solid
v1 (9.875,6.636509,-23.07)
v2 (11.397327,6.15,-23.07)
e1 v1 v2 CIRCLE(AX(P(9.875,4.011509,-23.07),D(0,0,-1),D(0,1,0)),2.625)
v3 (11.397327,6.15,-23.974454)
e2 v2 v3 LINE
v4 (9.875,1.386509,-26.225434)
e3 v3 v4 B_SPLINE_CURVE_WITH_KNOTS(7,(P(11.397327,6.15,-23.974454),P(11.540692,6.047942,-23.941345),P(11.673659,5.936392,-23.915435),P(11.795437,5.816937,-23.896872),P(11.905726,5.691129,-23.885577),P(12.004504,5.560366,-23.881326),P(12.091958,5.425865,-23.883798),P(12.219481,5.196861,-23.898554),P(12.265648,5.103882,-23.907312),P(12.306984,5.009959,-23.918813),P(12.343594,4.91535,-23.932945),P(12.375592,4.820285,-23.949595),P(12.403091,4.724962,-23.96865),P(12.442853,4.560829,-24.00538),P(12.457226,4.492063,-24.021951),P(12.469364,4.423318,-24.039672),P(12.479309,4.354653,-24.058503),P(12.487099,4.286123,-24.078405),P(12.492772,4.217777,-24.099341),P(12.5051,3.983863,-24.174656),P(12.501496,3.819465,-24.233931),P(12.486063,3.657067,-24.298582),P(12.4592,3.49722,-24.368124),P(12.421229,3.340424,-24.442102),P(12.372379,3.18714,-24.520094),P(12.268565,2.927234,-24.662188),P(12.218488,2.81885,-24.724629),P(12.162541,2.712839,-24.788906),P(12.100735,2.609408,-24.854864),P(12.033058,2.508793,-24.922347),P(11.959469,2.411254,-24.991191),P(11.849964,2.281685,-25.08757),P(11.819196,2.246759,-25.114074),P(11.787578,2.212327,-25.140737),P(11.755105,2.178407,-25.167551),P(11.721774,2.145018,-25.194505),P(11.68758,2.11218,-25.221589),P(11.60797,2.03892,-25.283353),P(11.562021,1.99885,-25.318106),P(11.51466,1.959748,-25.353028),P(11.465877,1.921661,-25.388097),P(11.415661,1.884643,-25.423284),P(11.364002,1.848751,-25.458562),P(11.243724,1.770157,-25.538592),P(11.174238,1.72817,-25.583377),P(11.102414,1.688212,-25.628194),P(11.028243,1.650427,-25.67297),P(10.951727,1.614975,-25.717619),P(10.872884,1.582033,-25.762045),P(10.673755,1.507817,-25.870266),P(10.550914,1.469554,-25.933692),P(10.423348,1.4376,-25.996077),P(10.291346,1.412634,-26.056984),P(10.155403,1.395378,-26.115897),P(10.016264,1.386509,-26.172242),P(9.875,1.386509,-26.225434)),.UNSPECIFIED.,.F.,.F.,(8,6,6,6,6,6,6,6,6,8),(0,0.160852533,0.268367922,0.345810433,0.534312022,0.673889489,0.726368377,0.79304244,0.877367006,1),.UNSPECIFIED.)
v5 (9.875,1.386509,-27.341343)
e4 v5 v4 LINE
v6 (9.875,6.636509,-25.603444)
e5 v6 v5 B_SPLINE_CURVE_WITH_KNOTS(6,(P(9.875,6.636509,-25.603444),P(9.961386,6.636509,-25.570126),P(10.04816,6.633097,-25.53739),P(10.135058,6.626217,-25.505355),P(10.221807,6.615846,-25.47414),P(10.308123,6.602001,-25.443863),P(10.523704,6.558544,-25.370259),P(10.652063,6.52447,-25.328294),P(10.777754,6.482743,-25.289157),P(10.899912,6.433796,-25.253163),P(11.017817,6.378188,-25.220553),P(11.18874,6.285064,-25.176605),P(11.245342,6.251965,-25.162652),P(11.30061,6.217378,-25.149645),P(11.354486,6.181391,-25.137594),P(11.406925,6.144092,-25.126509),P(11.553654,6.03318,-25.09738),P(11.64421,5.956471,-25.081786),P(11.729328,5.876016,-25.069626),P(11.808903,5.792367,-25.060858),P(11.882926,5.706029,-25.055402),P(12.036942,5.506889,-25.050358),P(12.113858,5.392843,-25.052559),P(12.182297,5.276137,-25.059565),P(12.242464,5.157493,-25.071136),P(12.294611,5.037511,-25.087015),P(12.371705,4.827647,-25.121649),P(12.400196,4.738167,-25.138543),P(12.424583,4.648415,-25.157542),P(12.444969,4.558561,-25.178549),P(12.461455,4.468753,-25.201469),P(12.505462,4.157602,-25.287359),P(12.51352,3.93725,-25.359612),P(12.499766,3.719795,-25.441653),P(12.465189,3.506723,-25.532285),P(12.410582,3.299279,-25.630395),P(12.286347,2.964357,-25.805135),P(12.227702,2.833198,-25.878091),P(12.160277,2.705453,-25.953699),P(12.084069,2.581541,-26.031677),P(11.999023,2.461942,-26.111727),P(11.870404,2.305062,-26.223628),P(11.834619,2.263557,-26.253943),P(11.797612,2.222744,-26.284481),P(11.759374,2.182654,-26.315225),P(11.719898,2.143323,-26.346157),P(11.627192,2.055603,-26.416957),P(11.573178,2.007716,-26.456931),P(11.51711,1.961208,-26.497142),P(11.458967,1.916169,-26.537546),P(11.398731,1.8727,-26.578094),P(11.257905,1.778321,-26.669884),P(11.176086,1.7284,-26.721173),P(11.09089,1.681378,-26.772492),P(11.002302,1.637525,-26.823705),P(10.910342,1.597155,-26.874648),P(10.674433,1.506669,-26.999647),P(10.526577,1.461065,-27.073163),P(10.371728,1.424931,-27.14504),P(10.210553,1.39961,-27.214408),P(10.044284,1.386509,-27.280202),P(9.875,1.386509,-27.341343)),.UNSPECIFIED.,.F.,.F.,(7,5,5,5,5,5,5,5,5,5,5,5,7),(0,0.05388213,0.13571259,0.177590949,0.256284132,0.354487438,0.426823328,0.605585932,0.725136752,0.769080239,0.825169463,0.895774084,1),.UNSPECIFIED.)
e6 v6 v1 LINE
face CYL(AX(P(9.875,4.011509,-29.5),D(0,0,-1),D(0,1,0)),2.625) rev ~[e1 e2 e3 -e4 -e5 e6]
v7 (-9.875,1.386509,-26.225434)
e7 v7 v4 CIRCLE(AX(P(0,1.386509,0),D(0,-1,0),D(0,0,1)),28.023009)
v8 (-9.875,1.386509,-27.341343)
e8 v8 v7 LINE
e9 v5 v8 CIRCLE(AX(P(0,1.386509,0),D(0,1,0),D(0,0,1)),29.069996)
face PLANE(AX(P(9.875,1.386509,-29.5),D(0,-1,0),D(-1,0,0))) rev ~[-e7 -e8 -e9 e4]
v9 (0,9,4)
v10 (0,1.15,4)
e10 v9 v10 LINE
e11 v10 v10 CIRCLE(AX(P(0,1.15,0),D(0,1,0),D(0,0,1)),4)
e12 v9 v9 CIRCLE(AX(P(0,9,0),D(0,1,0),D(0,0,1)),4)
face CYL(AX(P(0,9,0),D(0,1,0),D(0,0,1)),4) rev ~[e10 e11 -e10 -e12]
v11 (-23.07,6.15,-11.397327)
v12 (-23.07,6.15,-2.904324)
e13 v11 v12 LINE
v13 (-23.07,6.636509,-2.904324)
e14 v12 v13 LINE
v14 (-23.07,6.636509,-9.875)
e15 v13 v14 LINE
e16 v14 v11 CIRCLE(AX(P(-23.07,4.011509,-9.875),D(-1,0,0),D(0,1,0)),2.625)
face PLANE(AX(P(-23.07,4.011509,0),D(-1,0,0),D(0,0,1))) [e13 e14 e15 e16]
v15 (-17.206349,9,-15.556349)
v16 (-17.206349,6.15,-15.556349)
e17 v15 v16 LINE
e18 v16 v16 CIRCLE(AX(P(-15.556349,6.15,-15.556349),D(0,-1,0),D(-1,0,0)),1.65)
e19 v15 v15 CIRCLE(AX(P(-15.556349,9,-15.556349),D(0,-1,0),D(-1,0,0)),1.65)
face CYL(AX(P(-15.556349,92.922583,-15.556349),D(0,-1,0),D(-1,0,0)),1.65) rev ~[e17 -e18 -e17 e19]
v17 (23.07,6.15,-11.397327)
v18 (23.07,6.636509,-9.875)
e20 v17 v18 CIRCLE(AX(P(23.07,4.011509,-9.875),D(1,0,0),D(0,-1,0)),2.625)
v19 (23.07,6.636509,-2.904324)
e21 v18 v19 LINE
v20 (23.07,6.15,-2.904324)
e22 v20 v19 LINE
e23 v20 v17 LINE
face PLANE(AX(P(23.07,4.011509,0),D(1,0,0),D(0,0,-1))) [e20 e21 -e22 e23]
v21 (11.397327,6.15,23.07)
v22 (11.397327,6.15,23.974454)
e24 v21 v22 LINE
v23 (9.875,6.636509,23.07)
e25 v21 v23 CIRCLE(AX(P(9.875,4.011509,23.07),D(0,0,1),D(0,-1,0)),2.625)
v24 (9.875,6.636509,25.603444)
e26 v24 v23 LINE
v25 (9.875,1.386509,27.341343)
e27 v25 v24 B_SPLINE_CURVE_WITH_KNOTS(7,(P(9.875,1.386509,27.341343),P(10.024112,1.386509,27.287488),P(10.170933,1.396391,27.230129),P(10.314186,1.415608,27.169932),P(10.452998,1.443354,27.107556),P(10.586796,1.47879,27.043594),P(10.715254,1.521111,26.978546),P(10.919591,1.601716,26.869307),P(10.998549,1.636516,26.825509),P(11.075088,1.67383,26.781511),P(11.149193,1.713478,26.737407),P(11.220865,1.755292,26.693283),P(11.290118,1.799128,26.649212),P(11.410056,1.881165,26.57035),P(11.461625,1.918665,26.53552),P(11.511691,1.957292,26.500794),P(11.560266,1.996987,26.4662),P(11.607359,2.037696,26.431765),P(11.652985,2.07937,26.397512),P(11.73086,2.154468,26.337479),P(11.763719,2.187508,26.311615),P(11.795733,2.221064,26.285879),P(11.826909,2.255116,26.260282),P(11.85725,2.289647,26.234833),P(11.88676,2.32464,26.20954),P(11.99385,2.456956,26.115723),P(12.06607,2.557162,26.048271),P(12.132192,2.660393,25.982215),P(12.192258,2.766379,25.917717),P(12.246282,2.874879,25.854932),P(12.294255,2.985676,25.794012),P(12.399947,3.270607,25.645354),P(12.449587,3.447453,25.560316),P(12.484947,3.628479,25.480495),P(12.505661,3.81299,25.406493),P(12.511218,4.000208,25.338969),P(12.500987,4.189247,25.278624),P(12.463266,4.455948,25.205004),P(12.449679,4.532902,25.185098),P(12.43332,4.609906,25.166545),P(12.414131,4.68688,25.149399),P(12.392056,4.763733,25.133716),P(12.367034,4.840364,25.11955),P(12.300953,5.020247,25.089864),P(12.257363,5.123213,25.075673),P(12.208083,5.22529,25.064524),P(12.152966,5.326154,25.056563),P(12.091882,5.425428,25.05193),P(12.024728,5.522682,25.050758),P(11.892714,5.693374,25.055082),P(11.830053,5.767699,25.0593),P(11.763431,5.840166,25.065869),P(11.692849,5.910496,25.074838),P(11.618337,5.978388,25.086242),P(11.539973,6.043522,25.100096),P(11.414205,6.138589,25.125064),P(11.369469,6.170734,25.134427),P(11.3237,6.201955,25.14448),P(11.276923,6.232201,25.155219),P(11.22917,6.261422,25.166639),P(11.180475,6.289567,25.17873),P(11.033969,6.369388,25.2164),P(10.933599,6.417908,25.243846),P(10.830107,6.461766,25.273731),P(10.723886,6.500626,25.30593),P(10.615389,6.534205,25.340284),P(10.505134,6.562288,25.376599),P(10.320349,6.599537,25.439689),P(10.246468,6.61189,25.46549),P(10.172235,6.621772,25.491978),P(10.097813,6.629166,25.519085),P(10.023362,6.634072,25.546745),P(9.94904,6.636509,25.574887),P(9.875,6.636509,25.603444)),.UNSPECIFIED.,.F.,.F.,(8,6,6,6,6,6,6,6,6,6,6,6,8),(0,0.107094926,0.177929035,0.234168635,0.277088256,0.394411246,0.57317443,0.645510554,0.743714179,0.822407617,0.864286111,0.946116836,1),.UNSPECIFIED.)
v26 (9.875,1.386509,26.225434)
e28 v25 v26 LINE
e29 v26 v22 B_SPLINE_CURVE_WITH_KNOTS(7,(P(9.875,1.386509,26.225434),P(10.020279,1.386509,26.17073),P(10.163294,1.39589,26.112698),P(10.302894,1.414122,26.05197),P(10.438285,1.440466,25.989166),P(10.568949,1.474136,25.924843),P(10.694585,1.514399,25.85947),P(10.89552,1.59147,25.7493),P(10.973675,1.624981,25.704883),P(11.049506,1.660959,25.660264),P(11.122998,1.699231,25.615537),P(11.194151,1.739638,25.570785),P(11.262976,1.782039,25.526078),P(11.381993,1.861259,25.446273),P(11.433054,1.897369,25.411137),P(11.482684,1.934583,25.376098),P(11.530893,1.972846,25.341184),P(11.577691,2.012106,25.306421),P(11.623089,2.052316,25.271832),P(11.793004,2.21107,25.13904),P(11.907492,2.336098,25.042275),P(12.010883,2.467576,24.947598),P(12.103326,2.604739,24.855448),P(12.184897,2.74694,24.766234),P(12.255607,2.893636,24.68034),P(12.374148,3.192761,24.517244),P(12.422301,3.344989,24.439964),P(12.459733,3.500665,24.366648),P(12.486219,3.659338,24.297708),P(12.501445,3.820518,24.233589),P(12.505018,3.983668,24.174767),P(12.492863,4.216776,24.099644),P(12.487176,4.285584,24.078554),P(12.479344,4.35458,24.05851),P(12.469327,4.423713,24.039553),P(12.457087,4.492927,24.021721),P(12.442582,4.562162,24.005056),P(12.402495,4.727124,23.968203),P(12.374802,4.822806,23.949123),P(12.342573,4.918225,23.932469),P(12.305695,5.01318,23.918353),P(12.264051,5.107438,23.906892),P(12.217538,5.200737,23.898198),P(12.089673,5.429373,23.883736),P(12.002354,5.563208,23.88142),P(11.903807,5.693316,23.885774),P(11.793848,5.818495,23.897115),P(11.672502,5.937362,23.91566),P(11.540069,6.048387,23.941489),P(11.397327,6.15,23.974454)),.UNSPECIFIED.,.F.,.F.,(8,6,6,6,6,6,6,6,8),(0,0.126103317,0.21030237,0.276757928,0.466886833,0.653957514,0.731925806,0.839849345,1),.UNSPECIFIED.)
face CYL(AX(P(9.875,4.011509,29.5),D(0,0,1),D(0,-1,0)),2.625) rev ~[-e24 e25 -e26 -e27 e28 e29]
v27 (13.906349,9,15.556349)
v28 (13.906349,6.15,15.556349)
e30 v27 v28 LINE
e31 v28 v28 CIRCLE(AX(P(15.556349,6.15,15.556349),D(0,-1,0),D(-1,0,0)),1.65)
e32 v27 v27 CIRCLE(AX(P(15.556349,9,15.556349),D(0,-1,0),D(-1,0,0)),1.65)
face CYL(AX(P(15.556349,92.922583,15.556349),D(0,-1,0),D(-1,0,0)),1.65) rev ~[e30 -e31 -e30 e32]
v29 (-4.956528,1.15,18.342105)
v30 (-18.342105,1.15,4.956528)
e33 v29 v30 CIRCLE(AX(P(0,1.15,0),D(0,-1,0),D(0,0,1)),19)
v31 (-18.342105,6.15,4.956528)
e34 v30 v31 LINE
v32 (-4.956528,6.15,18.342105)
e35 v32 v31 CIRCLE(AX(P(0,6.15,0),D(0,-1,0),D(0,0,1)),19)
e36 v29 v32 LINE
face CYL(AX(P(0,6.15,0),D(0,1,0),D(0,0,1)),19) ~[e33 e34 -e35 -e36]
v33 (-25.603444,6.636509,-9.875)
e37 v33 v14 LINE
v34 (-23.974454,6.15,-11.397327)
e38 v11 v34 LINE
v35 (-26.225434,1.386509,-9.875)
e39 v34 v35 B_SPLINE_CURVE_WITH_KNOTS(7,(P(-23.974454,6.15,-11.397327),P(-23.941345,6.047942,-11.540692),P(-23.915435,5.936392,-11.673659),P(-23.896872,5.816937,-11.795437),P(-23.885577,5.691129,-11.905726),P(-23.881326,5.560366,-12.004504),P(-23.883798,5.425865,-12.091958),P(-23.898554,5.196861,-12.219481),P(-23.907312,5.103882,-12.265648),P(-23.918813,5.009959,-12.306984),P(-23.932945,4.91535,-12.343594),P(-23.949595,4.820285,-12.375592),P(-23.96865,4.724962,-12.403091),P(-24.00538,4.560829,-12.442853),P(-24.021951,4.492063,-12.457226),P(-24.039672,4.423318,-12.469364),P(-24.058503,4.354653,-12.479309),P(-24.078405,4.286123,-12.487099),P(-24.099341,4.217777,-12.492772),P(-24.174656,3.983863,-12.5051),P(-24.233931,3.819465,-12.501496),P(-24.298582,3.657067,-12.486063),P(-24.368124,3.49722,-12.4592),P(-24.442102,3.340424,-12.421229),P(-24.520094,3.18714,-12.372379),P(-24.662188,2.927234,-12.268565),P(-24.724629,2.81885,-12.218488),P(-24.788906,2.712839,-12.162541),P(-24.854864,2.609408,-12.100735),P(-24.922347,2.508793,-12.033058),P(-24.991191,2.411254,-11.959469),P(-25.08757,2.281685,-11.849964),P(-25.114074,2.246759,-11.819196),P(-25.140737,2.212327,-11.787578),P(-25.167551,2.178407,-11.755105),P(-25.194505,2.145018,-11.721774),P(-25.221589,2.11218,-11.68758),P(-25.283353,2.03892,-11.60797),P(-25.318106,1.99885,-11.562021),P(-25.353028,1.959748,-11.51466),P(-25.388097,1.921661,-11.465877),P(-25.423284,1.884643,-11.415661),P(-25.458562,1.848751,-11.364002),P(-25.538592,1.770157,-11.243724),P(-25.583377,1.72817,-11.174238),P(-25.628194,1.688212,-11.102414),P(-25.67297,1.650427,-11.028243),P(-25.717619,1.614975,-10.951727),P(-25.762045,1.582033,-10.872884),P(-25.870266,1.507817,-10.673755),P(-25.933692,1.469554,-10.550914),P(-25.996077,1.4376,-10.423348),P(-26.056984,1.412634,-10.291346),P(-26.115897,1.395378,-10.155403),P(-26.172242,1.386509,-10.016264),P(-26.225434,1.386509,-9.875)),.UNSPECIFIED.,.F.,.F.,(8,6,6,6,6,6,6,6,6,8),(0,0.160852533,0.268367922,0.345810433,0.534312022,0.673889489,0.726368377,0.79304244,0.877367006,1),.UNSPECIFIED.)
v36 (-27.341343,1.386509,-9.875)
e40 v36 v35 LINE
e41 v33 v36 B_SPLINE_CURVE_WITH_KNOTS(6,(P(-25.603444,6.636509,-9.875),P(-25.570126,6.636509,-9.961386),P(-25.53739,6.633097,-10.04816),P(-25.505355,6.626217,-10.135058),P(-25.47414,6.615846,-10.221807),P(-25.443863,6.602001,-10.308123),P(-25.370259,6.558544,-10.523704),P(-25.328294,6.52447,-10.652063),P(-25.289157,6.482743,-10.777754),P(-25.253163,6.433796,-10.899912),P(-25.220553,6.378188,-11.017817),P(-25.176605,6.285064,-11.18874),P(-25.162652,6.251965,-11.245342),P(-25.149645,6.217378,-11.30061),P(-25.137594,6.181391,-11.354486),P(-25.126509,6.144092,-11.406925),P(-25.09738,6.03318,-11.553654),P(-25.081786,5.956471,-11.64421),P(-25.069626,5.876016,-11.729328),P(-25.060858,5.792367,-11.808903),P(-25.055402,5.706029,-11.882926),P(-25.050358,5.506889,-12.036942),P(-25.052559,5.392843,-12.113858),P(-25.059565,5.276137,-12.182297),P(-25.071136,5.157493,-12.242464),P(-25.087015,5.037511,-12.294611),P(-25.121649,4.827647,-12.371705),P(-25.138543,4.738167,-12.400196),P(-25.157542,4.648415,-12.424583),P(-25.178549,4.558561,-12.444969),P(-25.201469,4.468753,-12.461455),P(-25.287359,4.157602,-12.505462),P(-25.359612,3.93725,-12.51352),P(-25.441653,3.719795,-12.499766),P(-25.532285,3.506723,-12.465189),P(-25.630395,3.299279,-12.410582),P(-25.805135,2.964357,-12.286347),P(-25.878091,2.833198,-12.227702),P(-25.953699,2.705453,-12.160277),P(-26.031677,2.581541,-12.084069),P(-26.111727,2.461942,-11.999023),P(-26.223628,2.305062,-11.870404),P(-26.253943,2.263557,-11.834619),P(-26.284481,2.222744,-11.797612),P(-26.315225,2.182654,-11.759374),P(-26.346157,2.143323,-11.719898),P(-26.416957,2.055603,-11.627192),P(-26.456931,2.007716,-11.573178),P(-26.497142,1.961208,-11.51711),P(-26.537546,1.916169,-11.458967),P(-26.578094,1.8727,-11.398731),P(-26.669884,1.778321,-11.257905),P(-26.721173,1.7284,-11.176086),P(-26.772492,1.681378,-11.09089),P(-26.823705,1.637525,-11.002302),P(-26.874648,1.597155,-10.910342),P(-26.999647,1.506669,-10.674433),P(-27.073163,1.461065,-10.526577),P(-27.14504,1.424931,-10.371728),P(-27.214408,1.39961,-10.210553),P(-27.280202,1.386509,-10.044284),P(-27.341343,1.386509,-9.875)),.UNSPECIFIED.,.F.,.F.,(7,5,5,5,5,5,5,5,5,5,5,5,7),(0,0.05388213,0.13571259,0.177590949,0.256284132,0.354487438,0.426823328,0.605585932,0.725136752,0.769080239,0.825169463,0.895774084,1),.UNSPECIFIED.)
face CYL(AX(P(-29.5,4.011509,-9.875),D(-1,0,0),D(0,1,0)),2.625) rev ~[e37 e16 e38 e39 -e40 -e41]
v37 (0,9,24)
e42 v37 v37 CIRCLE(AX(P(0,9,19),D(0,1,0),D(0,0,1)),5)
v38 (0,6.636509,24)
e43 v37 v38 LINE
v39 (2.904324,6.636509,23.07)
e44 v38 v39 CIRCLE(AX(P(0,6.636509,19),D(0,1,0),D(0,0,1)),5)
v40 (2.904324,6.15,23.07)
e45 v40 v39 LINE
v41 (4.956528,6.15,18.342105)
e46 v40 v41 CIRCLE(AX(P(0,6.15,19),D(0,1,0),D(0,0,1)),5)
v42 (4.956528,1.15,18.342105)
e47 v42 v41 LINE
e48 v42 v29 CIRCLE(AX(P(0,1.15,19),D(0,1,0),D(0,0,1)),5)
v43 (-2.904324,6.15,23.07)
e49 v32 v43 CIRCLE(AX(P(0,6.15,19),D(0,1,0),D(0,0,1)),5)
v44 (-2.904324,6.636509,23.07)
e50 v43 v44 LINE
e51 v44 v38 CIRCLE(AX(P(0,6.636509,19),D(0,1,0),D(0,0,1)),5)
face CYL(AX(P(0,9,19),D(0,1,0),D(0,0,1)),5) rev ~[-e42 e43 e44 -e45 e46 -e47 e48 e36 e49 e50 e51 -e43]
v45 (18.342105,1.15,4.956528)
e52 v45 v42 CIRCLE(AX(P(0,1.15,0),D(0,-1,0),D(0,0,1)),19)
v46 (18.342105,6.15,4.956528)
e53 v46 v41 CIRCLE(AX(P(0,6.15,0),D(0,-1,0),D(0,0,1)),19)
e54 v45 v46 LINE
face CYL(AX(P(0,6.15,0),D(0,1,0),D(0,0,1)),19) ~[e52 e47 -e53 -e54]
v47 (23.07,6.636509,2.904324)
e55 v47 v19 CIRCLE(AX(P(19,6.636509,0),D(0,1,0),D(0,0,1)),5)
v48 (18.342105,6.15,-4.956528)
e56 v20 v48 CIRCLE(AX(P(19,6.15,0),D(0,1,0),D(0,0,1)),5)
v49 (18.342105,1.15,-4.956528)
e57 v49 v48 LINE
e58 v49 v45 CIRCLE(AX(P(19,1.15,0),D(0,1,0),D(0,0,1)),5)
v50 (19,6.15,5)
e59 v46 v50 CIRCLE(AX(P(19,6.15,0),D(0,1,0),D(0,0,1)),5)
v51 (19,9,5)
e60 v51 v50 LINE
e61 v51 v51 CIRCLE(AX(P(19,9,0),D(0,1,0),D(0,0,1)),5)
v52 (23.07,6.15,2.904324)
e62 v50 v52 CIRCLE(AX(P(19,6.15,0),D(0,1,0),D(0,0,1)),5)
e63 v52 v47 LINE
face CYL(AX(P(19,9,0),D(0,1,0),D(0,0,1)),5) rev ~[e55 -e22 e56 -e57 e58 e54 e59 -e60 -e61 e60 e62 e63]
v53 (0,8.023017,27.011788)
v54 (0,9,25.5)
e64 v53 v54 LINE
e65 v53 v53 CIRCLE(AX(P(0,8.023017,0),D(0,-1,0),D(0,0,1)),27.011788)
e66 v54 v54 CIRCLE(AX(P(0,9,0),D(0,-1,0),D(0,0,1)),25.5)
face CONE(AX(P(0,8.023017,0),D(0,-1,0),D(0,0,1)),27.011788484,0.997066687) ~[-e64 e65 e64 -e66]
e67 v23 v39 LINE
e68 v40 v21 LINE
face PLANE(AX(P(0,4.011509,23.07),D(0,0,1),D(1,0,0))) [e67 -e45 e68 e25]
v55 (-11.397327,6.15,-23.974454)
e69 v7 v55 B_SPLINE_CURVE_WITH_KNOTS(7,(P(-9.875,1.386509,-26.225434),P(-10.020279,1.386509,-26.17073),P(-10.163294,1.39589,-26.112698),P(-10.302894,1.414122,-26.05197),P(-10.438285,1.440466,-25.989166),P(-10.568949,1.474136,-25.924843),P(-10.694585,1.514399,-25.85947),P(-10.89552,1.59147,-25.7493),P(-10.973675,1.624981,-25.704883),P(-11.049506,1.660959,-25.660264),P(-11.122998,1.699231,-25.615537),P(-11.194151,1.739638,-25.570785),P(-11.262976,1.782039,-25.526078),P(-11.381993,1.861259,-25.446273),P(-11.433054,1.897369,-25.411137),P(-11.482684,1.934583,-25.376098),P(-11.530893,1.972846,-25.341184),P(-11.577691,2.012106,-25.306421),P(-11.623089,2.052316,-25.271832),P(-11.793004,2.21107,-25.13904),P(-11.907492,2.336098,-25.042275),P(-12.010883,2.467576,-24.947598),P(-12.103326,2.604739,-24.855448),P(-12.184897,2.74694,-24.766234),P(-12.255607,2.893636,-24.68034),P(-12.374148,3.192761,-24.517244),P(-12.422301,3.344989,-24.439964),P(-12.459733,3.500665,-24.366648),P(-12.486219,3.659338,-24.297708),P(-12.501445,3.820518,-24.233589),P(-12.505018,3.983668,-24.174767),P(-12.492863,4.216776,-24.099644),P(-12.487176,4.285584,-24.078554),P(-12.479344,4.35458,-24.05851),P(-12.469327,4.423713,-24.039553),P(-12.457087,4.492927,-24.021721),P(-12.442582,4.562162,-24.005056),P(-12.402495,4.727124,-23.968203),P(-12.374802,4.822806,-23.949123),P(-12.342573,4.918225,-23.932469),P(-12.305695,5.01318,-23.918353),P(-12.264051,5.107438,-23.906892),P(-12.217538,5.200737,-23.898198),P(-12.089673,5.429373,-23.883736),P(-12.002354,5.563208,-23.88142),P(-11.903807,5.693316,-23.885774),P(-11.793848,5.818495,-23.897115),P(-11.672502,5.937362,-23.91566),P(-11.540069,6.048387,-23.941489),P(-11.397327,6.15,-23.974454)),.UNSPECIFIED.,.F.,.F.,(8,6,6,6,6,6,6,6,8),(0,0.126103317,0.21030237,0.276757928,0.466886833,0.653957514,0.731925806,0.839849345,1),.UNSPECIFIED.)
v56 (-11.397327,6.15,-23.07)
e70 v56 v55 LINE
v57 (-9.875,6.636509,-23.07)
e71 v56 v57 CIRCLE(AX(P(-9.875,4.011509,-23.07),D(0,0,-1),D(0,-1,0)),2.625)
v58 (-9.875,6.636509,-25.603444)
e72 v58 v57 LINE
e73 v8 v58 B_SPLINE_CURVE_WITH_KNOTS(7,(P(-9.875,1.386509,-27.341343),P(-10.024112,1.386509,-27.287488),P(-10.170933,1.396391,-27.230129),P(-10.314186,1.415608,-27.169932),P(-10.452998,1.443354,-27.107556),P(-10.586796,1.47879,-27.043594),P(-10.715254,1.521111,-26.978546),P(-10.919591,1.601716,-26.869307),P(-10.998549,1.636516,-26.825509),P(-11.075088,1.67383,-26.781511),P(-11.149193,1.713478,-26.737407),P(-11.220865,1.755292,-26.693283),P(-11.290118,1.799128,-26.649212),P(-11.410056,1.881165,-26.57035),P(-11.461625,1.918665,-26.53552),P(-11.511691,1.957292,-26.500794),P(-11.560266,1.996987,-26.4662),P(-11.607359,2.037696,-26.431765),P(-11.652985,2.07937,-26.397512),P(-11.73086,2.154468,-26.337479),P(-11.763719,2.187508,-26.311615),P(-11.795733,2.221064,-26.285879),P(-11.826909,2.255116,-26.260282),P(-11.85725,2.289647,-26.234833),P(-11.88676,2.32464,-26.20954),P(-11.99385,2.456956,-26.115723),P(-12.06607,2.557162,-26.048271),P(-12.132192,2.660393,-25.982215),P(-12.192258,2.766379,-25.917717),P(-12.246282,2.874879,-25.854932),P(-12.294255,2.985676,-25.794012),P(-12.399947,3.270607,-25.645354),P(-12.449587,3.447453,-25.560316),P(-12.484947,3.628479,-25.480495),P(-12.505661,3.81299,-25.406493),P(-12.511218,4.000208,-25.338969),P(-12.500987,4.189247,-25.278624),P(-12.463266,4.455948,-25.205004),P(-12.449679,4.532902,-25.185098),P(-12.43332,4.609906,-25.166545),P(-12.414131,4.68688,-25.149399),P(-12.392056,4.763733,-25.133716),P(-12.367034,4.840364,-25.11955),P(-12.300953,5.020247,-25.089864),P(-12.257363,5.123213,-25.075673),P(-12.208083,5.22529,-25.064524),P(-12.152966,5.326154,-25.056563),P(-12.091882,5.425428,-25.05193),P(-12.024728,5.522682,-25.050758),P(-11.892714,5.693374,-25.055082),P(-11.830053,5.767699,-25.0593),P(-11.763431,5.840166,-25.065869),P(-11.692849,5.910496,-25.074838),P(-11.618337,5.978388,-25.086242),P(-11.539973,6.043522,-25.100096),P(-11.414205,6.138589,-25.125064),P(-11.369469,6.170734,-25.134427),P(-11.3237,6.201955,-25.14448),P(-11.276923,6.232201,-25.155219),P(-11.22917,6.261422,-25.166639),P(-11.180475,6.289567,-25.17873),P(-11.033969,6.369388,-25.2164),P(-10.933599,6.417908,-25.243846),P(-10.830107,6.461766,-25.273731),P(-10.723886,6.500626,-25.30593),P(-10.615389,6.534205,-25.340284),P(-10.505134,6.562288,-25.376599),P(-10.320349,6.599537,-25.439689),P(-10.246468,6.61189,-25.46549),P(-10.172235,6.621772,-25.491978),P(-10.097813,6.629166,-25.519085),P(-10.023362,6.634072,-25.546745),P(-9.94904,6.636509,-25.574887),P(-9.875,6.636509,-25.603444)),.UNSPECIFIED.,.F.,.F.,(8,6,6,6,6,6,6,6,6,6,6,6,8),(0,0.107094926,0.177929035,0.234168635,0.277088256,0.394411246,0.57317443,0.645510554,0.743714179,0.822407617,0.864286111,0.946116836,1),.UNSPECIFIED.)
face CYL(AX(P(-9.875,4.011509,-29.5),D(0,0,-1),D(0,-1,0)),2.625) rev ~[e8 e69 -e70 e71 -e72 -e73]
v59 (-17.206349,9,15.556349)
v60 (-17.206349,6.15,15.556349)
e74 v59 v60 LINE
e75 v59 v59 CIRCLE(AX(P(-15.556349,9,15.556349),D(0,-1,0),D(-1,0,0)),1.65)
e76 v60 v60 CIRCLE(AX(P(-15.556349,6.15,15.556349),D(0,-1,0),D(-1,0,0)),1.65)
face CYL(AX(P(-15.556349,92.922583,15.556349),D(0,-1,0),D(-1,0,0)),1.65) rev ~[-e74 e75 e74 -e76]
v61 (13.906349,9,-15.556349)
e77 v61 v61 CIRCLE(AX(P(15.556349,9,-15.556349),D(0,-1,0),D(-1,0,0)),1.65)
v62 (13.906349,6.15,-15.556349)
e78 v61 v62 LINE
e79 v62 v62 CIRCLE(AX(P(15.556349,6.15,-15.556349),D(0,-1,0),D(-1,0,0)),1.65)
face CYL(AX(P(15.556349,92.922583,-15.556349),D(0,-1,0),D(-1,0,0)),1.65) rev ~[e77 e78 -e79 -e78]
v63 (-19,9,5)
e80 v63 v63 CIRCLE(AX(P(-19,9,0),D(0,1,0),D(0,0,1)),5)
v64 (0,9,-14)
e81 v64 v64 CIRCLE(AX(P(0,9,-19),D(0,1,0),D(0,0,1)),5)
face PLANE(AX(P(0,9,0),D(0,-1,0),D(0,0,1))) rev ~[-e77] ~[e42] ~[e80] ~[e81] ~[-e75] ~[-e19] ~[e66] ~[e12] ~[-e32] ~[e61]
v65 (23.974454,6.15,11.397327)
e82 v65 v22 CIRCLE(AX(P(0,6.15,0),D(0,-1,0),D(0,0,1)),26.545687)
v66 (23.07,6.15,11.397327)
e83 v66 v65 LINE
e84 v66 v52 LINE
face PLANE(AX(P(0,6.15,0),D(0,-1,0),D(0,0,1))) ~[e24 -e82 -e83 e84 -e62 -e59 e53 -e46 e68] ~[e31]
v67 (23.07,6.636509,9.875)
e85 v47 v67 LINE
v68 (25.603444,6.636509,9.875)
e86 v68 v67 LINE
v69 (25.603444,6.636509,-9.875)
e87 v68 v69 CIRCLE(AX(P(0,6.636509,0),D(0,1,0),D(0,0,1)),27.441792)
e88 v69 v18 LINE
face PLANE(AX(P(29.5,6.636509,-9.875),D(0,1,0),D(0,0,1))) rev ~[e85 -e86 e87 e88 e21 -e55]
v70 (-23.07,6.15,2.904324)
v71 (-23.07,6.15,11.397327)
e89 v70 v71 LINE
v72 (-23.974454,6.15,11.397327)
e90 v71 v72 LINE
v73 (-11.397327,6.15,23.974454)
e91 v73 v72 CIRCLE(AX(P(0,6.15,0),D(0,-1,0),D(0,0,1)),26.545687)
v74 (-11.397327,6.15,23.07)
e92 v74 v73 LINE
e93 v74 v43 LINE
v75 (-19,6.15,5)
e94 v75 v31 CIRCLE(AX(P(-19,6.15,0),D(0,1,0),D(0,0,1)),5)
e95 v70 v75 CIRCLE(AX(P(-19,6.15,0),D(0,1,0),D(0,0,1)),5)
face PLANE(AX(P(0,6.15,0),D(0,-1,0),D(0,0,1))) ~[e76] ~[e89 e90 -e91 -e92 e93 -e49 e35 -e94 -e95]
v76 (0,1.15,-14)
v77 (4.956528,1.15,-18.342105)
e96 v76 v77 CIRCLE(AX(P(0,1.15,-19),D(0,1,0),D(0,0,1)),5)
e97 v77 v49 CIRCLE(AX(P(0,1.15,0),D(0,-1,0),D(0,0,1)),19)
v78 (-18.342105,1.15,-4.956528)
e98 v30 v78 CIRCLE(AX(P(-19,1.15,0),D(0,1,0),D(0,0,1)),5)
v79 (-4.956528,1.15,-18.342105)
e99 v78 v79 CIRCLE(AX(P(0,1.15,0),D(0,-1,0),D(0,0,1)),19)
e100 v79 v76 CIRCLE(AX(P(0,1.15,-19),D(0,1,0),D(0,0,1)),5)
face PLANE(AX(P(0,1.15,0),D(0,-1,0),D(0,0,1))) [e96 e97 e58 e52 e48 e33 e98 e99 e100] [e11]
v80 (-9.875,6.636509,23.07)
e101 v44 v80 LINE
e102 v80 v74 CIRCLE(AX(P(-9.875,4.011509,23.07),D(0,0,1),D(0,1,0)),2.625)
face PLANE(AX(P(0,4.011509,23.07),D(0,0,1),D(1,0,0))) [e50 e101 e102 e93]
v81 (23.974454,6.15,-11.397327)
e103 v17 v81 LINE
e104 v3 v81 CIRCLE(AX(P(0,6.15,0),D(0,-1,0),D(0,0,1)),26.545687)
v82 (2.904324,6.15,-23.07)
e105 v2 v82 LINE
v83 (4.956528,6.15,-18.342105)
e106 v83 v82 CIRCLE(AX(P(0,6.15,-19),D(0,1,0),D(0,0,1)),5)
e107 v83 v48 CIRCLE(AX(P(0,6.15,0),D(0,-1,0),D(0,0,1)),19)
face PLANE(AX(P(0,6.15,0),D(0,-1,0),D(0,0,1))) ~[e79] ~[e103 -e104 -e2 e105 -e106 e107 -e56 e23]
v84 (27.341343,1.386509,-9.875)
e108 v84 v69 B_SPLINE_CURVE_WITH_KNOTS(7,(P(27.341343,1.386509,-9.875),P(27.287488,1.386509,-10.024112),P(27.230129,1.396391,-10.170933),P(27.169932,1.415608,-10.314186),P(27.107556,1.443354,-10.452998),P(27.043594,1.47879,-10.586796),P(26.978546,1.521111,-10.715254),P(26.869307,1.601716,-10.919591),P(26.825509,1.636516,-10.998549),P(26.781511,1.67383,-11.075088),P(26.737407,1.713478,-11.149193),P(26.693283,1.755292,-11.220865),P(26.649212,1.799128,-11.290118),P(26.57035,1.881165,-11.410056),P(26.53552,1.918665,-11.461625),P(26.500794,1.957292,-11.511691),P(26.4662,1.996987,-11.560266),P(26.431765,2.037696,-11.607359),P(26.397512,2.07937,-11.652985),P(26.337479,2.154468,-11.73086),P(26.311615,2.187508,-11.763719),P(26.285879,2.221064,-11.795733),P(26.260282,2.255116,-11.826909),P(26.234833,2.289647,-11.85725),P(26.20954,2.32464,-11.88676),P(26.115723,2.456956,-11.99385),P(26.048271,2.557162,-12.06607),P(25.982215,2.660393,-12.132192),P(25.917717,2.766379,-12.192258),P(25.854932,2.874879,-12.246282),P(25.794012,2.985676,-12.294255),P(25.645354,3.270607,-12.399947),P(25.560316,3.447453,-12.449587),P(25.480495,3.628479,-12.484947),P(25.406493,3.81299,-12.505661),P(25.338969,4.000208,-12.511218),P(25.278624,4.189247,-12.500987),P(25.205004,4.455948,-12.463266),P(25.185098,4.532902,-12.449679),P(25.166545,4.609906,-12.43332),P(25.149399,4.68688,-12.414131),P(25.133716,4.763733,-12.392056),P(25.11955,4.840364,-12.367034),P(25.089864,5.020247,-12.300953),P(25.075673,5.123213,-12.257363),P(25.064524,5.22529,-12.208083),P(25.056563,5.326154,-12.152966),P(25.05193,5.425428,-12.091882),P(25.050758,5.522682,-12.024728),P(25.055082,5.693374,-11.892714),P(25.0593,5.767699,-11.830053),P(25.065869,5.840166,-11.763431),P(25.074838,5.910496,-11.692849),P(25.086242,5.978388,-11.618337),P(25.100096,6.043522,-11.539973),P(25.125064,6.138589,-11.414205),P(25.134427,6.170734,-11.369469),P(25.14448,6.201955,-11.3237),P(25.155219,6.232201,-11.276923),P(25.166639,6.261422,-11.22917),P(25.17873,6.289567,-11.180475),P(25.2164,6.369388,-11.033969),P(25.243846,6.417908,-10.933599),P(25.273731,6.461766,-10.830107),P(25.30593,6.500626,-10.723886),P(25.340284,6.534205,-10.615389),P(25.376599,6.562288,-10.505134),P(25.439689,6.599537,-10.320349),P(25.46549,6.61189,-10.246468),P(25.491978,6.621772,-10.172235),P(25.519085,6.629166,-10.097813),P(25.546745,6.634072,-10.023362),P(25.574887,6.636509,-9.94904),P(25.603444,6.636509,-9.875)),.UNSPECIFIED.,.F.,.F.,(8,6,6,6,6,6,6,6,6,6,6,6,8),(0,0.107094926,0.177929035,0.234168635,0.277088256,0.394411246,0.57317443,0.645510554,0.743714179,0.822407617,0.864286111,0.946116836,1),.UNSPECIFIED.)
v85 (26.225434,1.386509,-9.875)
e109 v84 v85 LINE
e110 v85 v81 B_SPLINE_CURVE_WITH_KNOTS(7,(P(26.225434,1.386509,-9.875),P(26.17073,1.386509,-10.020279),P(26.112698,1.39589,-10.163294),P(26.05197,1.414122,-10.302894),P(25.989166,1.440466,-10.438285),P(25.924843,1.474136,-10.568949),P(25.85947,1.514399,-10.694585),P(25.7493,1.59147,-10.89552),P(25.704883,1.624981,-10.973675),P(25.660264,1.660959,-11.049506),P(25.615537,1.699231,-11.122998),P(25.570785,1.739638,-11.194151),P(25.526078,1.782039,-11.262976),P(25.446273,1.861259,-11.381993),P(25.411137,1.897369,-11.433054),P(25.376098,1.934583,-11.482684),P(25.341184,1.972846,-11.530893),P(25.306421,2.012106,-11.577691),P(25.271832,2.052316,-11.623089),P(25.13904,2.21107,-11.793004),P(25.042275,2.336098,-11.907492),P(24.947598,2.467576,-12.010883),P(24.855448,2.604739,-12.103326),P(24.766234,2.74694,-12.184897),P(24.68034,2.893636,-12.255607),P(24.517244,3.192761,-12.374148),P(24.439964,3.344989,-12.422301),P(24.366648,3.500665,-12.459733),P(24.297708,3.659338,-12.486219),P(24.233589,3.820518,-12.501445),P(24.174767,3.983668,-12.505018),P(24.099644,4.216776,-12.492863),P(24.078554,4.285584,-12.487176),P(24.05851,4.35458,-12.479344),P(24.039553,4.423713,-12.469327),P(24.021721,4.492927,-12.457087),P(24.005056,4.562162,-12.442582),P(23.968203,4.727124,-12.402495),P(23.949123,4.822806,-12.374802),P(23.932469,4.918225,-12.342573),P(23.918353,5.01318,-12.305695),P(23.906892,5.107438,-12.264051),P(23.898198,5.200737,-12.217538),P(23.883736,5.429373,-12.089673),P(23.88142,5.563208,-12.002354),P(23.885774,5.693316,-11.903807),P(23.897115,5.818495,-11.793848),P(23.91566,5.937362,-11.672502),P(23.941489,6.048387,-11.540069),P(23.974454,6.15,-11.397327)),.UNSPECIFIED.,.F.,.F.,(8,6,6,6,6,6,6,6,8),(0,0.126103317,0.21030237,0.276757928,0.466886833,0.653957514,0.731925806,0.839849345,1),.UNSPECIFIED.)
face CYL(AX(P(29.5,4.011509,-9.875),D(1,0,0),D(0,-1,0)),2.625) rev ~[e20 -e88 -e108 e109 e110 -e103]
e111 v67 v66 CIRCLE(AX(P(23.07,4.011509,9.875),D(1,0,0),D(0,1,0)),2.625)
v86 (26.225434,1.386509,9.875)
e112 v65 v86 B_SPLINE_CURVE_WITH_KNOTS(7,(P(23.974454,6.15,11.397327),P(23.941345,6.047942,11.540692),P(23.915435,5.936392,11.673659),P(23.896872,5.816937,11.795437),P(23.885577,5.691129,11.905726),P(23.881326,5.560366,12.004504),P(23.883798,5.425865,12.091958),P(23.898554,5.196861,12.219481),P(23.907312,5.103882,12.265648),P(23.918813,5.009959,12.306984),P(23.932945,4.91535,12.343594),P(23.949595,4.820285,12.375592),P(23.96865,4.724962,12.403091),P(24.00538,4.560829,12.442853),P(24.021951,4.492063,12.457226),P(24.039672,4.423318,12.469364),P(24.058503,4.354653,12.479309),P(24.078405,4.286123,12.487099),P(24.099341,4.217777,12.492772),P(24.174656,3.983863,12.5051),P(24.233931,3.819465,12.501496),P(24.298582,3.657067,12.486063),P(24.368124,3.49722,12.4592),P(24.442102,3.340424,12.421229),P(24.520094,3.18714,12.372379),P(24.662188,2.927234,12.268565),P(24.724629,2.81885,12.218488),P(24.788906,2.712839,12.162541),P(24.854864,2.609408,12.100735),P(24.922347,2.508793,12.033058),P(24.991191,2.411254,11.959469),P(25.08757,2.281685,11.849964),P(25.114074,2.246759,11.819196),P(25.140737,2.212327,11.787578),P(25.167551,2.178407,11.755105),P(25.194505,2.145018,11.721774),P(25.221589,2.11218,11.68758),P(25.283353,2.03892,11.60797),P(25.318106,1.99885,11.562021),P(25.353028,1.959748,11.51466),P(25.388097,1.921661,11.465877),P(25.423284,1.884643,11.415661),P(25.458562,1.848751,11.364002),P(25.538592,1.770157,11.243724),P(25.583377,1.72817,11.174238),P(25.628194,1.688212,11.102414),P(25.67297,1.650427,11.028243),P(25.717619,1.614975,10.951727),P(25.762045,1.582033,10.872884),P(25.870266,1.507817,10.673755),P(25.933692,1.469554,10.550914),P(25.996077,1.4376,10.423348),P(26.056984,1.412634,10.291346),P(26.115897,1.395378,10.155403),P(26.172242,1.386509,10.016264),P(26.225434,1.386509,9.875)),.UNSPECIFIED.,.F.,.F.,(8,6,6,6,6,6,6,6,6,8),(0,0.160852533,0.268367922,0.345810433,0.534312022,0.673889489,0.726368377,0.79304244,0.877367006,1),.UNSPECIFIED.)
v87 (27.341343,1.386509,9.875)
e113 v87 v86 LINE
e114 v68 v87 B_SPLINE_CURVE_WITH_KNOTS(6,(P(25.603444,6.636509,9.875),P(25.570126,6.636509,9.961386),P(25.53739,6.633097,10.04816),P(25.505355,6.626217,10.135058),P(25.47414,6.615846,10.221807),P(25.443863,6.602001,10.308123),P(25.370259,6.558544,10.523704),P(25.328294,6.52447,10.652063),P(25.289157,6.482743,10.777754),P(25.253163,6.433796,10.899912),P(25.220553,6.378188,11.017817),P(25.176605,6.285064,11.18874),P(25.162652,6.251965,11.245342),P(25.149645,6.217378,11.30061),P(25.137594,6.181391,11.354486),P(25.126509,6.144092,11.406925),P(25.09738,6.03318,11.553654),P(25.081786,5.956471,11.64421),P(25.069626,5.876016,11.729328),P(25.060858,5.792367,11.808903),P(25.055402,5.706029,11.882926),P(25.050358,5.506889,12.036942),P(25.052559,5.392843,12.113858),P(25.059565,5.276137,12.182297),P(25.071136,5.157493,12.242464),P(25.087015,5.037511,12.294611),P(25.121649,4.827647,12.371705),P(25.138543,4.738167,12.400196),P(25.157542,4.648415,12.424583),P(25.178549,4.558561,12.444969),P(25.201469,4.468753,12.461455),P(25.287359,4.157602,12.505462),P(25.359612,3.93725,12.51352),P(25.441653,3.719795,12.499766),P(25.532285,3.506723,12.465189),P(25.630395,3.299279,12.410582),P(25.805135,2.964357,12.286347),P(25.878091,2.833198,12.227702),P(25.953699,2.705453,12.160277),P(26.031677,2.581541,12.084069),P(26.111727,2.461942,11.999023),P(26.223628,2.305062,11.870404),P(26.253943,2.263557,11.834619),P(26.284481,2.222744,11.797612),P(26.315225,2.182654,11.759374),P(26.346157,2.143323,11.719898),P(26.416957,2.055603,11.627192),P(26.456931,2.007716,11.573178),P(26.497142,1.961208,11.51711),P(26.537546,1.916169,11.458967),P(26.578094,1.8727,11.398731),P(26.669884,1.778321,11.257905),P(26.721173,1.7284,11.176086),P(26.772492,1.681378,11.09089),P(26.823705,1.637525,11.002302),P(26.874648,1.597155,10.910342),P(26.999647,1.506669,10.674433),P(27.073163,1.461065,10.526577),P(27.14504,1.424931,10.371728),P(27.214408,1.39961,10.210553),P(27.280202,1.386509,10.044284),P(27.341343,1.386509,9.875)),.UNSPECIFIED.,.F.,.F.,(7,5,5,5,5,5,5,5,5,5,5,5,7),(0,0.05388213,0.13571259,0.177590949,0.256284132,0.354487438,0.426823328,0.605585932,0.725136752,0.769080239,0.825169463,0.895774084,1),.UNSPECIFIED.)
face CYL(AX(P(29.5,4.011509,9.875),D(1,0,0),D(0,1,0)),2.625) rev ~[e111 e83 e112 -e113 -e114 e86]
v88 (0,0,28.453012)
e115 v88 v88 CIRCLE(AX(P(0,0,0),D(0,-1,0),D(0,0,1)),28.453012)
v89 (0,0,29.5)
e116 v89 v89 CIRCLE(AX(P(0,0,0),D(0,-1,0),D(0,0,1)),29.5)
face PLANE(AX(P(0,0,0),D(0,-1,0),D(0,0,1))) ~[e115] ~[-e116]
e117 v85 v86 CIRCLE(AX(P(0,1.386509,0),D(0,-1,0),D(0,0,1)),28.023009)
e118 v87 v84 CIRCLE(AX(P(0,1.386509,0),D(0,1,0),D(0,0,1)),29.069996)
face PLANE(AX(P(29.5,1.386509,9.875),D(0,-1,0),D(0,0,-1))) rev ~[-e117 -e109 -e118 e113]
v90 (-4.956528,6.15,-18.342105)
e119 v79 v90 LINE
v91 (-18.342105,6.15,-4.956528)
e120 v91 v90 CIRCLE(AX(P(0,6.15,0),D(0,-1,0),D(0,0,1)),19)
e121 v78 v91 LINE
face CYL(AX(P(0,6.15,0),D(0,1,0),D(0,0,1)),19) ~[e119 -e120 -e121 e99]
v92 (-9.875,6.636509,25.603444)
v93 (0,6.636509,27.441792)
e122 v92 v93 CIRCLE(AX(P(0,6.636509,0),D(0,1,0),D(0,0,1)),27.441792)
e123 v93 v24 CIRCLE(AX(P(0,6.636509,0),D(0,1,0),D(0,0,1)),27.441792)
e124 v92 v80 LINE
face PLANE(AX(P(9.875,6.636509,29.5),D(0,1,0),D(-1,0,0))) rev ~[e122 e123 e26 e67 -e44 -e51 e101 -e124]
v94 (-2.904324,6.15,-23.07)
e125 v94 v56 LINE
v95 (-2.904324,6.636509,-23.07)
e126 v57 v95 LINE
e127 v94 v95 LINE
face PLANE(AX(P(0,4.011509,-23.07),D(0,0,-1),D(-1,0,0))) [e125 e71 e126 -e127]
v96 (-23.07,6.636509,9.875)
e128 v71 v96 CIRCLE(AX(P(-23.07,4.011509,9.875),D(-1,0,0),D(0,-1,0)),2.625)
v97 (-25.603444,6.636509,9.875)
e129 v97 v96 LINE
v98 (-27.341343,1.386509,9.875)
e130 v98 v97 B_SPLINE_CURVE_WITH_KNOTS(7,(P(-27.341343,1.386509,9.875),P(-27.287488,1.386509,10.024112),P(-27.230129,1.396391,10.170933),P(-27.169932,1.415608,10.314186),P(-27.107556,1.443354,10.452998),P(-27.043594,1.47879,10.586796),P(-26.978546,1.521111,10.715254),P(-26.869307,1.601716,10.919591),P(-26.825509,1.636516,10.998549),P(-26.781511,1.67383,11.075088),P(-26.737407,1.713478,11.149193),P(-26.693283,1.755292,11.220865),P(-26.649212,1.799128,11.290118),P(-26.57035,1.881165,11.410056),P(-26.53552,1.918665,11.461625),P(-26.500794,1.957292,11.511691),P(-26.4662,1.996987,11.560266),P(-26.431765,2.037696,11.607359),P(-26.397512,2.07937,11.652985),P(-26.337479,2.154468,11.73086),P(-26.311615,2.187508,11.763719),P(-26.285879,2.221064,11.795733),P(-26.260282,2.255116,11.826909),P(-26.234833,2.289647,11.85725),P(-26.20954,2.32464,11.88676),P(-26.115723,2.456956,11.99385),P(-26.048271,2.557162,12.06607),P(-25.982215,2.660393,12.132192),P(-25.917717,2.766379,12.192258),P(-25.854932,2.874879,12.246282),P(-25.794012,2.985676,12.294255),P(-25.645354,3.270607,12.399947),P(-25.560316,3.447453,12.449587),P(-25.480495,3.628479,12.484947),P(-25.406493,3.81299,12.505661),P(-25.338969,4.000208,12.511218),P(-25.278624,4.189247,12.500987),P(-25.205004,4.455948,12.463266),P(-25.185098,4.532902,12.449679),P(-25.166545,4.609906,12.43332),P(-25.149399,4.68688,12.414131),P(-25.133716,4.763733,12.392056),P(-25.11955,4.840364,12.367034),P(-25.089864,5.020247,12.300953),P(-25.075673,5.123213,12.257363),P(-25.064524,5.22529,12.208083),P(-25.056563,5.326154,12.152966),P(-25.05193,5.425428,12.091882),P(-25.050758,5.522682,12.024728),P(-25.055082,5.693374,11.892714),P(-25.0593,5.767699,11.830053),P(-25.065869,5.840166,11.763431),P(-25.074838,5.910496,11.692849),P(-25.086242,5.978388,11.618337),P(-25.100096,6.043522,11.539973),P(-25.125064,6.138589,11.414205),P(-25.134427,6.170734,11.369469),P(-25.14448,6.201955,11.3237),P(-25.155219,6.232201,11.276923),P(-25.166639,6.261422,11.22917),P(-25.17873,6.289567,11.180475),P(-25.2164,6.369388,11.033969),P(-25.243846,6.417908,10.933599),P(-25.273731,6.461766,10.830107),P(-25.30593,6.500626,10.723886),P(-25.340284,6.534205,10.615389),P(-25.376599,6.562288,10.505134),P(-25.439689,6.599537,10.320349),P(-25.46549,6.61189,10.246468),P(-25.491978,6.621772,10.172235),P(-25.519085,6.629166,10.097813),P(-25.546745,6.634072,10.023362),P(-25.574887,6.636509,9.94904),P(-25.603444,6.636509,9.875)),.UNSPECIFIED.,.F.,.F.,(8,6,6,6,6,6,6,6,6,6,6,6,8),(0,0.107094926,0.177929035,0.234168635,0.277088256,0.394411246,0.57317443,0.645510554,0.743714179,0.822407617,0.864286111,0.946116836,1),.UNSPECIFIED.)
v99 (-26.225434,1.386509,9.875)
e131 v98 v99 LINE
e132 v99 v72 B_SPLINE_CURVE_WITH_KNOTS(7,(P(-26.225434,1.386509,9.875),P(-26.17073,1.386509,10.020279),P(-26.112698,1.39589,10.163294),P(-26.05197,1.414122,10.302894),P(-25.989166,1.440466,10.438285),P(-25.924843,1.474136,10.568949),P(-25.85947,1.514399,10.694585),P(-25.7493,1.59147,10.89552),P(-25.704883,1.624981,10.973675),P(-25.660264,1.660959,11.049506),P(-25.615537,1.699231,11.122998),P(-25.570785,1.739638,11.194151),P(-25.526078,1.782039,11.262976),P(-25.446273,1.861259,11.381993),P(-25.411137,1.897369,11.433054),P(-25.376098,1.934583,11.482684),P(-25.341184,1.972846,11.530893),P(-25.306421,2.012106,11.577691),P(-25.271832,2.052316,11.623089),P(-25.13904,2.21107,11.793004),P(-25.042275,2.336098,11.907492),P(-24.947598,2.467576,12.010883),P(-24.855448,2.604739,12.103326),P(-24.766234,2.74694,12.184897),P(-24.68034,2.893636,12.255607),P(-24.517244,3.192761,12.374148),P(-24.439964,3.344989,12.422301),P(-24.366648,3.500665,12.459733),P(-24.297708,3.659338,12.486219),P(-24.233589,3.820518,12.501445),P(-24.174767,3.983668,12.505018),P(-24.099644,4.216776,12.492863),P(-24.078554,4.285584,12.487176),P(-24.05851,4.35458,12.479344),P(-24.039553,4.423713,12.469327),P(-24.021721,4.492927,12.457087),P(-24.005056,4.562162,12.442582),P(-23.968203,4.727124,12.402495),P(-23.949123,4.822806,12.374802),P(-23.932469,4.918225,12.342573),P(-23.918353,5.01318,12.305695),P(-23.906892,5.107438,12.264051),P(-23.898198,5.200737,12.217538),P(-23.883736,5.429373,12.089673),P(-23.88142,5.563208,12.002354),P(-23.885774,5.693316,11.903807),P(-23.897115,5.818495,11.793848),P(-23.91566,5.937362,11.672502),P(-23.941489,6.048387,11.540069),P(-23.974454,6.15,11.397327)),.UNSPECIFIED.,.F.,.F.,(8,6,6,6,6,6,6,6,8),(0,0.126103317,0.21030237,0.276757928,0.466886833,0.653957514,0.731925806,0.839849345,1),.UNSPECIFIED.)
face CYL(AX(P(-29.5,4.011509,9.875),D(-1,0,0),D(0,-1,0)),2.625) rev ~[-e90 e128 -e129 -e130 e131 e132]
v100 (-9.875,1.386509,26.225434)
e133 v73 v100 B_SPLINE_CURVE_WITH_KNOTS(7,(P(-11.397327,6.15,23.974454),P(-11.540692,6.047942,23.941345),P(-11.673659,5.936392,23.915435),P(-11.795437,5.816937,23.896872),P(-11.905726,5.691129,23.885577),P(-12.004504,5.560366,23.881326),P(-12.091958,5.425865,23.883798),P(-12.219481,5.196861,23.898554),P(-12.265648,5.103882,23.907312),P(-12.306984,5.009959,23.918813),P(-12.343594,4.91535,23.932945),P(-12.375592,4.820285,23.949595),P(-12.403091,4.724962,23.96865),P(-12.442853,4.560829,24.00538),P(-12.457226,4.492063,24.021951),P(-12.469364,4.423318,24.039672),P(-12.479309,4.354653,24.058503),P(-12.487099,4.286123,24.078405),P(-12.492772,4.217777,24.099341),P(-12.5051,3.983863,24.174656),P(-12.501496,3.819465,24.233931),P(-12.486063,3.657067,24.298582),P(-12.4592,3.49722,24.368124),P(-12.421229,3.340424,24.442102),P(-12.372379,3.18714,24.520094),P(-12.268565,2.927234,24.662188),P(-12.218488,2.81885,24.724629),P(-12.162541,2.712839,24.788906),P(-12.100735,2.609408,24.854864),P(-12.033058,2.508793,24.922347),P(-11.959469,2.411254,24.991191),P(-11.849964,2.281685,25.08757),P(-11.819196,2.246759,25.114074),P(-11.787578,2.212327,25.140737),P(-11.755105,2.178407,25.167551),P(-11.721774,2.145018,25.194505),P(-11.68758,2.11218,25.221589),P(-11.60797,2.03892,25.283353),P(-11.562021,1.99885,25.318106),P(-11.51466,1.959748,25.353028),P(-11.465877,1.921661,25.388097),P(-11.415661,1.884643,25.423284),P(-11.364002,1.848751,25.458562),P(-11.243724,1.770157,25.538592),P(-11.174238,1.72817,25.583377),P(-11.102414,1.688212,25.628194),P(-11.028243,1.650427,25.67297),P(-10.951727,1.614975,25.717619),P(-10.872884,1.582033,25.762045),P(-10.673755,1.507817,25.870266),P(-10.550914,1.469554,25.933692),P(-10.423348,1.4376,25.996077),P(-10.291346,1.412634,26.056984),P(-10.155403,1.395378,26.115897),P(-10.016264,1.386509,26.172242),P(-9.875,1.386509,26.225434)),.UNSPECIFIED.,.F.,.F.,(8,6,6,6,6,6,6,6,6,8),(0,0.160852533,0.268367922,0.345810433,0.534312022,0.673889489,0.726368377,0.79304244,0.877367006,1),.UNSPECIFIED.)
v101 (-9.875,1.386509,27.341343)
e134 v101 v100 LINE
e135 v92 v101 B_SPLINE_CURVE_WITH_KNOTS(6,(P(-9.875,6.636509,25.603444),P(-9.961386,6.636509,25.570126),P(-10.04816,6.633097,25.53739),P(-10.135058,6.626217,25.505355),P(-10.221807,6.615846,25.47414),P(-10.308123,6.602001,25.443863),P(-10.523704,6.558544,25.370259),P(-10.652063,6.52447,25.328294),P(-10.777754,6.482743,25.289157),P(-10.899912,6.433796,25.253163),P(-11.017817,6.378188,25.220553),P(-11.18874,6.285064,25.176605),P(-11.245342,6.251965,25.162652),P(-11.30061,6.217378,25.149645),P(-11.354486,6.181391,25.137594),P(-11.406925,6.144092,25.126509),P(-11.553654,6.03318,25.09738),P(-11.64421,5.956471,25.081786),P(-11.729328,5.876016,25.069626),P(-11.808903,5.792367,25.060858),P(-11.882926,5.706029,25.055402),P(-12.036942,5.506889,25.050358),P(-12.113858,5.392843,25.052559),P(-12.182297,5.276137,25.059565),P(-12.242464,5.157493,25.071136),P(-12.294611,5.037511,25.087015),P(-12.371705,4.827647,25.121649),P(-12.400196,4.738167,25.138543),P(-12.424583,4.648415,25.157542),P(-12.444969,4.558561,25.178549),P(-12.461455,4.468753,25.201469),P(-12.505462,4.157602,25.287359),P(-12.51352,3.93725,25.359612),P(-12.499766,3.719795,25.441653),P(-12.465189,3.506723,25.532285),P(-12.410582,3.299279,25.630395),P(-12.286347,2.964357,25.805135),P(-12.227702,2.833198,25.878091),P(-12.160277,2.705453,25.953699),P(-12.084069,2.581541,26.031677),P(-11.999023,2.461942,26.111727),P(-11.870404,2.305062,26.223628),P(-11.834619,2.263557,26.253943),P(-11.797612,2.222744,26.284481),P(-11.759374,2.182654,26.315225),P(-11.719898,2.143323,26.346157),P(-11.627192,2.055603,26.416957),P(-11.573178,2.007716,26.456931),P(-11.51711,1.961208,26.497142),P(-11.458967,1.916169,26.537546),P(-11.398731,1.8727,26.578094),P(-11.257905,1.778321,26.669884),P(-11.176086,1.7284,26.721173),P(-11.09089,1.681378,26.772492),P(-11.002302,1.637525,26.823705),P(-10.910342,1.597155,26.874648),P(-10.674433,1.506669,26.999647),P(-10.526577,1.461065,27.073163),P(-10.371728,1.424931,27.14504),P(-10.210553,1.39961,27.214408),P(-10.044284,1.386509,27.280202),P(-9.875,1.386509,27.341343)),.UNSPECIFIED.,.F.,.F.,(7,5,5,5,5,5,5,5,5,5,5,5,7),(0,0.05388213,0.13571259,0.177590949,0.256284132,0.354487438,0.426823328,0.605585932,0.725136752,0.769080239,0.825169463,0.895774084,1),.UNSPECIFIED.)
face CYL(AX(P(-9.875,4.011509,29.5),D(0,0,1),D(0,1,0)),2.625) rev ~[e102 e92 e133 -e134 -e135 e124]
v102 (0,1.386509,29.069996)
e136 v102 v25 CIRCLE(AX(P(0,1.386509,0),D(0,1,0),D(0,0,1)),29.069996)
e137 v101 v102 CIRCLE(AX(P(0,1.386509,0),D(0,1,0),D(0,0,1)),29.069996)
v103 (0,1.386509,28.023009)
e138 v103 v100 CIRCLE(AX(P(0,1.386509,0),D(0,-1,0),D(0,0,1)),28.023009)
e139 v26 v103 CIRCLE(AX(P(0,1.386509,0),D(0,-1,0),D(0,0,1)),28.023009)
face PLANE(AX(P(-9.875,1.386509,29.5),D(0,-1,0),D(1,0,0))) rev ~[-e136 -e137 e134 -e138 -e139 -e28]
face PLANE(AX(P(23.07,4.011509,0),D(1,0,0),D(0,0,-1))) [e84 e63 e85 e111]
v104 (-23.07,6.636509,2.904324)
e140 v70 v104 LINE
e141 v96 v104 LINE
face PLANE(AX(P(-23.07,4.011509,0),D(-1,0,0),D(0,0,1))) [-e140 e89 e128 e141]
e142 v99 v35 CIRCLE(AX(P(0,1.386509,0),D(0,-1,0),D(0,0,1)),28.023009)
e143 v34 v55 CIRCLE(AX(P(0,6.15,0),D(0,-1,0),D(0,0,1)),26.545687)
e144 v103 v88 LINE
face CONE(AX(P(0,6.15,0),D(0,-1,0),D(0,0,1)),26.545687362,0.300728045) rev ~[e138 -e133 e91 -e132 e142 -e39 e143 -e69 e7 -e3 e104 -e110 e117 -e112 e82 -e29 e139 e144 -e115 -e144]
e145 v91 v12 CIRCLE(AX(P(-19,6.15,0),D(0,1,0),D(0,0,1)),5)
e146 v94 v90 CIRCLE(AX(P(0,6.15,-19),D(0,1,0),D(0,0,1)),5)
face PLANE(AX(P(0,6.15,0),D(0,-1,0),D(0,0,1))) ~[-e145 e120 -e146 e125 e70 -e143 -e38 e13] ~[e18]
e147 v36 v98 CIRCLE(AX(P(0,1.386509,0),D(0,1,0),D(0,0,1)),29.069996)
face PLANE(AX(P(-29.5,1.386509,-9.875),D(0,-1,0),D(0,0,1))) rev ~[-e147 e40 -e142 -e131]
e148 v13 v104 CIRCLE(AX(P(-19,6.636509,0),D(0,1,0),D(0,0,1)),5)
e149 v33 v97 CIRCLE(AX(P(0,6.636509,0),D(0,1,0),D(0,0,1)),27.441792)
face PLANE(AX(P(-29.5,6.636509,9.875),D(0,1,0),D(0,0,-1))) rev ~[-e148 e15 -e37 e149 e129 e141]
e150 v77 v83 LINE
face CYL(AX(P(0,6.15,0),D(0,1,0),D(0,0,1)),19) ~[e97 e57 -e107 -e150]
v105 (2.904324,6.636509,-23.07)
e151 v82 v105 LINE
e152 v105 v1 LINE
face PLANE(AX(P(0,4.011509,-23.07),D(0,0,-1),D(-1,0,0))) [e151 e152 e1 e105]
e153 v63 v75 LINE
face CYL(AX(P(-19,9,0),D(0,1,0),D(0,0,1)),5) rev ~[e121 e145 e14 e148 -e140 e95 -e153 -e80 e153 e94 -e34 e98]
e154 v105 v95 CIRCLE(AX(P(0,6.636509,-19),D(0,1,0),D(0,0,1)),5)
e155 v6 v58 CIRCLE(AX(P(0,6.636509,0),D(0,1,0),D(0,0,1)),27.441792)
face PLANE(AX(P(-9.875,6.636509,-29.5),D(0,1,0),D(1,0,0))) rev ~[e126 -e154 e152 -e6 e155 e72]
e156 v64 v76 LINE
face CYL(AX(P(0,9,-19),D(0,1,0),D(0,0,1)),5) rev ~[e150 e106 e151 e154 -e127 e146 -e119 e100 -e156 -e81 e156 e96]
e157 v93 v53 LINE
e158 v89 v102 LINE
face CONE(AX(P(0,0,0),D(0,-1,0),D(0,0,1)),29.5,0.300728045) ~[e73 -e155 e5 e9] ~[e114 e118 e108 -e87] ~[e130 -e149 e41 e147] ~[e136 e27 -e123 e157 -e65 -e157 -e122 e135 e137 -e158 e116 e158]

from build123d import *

# Parameters (mm, degrees)
SKETCH2_R             = 19
BOSS_EXTRUDE1_DEPTH   = 5
SKETCH3_R             = 5
CUT_EXTRUDE1_DEPTH    = 43.679034666
SKETCH4_R             = 4
CUT_EXTRUDE2_DEPTH    = 43.679034666
M4X0_7_TAPPED_HOLE1_D = 3.3
CUT_EXTRUDE3_DEPTH    = 6.43
CIRPATTERN1_COUNT     = 4


with BuildPart() as part:
    # Sketch1 → Revolve1 (revolve)
    with BuildSketch(Plane(origin=(0, 0, 0), x_dir=(0, 0, -1), z_dir=(1, 0, 0)), mode=Mode.PRIVATE) as revolve1_sk:
        Polygon((0, 9), (0, 6.15), (26.545687362, 6.15), (28.453012328, 0), (29.5, 0), (27.011788484, 8.023017104), (25.5, 9), align=None)
    revolve(revolve1_sk.sketch.rotate(Axis((0, 9, 0), (0, -1, 0)), 180), axis=Axis((0, 9, 0), (0, -1, 0)))

    # Sketch2 → Boss-Extrude1 (add)
    with BuildSketch(Plane.XZ.offset(-6.15)):
        with Locations(Location((0, 0, 0), (0, 0, 90))):
            Circle(SKETCH2_R)
    extrude(amount=BOSS_EXTRUDE1_DEPTH)

    # Sketch3 → Cut-Extrude1 (cut, through all)
    with BuildSketch(Plane(origin=(0, 9, 0), x_dir=(1, 0, 0), z_dir=(0, 1, 0))):
        with Locations(Location((0, 19, 0), (0, 0, 270))):
            Circle(SKETCH3_R)
        with Locations(Location((19, 0, 0), (0, 0, 270))):
            Circle(SKETCH3_R)
        with Locations(Location((0, -19, 0), (0, 0, 270))):
            Circle(SKETCH3_R)
        with Locations(Location((-19, 0, 0), (0, 0, 270))):
            Circle(SKETCH3_R)
    extrude(amount=-CUT_EXTRUDE1_DEPTH, mode=Mode.SUBTRACT)

    # Sketch4 → Cut-Extrude2 (cut, through all)
    with BuildSketch(Plane(origin=(0, 9, 0), x_dir=(1, 0, 0), z_dir=(0, 1, 0))):
        with Locations(Location((0, 0, 0), (0, 0, 270))):
            Circle(SKETCH4_R)
    extrude(amount=-CUT_EXTRUDE2_DEPTH, mode=Mode.SUBTRACT)

    # M4x0.7 Tapped Hole1 (through all)
    with Locations(Plane(origin=(0, 9, 0), x_dir=(1, 0, 0), z_dir=(0, 1, 0))):
        with Locations((-15.556349186, 15.556349186), (15.556349186, 15.556349186), (15.556349186, -15.556349186), (-15.556349186, -15.556349186)):
            Hole(M4X0_7_TAPPED_HOLE1_D / 2)

    # Sketch9 → Cut-Extrude3 (cut)
    with BuildSketch(Plane.XY.offset(-29.5)):
        with BuildLine():
            Line((-9.875, 6.636508552), (9.875, 6.636508552))
            ThreePointArc((9.875, 6.636508552), (12.5, 4.011508552), (9.875, 1.386508552))
            Line((9.875, 1.386508552), (-9.875, 1.386508552))
            ThreePointArc((-9.875, 1.386508552), (-12.5, 4.011508552), (-9.875, 6.636508552))
        make_face()
    cut_extrude3 = extrude(amount=CUT_EXTRUDE3_DEPTH, mode=Mode.SUBTRACT)

    # CirPattern1: Cut-Extrude3 ×4 about axis
    cirpattern1_axis = Axis((0, 0, 0), (0, 1, 0))
    for i in range(1, CIRPATTERN1_COUNT):
        add(cut_extrude3.rotate(cirpattern1_axis, i * 360 / CIRPATTERN1_COUNT), mode=Mode.SUBTRACT)


solid = part.part
